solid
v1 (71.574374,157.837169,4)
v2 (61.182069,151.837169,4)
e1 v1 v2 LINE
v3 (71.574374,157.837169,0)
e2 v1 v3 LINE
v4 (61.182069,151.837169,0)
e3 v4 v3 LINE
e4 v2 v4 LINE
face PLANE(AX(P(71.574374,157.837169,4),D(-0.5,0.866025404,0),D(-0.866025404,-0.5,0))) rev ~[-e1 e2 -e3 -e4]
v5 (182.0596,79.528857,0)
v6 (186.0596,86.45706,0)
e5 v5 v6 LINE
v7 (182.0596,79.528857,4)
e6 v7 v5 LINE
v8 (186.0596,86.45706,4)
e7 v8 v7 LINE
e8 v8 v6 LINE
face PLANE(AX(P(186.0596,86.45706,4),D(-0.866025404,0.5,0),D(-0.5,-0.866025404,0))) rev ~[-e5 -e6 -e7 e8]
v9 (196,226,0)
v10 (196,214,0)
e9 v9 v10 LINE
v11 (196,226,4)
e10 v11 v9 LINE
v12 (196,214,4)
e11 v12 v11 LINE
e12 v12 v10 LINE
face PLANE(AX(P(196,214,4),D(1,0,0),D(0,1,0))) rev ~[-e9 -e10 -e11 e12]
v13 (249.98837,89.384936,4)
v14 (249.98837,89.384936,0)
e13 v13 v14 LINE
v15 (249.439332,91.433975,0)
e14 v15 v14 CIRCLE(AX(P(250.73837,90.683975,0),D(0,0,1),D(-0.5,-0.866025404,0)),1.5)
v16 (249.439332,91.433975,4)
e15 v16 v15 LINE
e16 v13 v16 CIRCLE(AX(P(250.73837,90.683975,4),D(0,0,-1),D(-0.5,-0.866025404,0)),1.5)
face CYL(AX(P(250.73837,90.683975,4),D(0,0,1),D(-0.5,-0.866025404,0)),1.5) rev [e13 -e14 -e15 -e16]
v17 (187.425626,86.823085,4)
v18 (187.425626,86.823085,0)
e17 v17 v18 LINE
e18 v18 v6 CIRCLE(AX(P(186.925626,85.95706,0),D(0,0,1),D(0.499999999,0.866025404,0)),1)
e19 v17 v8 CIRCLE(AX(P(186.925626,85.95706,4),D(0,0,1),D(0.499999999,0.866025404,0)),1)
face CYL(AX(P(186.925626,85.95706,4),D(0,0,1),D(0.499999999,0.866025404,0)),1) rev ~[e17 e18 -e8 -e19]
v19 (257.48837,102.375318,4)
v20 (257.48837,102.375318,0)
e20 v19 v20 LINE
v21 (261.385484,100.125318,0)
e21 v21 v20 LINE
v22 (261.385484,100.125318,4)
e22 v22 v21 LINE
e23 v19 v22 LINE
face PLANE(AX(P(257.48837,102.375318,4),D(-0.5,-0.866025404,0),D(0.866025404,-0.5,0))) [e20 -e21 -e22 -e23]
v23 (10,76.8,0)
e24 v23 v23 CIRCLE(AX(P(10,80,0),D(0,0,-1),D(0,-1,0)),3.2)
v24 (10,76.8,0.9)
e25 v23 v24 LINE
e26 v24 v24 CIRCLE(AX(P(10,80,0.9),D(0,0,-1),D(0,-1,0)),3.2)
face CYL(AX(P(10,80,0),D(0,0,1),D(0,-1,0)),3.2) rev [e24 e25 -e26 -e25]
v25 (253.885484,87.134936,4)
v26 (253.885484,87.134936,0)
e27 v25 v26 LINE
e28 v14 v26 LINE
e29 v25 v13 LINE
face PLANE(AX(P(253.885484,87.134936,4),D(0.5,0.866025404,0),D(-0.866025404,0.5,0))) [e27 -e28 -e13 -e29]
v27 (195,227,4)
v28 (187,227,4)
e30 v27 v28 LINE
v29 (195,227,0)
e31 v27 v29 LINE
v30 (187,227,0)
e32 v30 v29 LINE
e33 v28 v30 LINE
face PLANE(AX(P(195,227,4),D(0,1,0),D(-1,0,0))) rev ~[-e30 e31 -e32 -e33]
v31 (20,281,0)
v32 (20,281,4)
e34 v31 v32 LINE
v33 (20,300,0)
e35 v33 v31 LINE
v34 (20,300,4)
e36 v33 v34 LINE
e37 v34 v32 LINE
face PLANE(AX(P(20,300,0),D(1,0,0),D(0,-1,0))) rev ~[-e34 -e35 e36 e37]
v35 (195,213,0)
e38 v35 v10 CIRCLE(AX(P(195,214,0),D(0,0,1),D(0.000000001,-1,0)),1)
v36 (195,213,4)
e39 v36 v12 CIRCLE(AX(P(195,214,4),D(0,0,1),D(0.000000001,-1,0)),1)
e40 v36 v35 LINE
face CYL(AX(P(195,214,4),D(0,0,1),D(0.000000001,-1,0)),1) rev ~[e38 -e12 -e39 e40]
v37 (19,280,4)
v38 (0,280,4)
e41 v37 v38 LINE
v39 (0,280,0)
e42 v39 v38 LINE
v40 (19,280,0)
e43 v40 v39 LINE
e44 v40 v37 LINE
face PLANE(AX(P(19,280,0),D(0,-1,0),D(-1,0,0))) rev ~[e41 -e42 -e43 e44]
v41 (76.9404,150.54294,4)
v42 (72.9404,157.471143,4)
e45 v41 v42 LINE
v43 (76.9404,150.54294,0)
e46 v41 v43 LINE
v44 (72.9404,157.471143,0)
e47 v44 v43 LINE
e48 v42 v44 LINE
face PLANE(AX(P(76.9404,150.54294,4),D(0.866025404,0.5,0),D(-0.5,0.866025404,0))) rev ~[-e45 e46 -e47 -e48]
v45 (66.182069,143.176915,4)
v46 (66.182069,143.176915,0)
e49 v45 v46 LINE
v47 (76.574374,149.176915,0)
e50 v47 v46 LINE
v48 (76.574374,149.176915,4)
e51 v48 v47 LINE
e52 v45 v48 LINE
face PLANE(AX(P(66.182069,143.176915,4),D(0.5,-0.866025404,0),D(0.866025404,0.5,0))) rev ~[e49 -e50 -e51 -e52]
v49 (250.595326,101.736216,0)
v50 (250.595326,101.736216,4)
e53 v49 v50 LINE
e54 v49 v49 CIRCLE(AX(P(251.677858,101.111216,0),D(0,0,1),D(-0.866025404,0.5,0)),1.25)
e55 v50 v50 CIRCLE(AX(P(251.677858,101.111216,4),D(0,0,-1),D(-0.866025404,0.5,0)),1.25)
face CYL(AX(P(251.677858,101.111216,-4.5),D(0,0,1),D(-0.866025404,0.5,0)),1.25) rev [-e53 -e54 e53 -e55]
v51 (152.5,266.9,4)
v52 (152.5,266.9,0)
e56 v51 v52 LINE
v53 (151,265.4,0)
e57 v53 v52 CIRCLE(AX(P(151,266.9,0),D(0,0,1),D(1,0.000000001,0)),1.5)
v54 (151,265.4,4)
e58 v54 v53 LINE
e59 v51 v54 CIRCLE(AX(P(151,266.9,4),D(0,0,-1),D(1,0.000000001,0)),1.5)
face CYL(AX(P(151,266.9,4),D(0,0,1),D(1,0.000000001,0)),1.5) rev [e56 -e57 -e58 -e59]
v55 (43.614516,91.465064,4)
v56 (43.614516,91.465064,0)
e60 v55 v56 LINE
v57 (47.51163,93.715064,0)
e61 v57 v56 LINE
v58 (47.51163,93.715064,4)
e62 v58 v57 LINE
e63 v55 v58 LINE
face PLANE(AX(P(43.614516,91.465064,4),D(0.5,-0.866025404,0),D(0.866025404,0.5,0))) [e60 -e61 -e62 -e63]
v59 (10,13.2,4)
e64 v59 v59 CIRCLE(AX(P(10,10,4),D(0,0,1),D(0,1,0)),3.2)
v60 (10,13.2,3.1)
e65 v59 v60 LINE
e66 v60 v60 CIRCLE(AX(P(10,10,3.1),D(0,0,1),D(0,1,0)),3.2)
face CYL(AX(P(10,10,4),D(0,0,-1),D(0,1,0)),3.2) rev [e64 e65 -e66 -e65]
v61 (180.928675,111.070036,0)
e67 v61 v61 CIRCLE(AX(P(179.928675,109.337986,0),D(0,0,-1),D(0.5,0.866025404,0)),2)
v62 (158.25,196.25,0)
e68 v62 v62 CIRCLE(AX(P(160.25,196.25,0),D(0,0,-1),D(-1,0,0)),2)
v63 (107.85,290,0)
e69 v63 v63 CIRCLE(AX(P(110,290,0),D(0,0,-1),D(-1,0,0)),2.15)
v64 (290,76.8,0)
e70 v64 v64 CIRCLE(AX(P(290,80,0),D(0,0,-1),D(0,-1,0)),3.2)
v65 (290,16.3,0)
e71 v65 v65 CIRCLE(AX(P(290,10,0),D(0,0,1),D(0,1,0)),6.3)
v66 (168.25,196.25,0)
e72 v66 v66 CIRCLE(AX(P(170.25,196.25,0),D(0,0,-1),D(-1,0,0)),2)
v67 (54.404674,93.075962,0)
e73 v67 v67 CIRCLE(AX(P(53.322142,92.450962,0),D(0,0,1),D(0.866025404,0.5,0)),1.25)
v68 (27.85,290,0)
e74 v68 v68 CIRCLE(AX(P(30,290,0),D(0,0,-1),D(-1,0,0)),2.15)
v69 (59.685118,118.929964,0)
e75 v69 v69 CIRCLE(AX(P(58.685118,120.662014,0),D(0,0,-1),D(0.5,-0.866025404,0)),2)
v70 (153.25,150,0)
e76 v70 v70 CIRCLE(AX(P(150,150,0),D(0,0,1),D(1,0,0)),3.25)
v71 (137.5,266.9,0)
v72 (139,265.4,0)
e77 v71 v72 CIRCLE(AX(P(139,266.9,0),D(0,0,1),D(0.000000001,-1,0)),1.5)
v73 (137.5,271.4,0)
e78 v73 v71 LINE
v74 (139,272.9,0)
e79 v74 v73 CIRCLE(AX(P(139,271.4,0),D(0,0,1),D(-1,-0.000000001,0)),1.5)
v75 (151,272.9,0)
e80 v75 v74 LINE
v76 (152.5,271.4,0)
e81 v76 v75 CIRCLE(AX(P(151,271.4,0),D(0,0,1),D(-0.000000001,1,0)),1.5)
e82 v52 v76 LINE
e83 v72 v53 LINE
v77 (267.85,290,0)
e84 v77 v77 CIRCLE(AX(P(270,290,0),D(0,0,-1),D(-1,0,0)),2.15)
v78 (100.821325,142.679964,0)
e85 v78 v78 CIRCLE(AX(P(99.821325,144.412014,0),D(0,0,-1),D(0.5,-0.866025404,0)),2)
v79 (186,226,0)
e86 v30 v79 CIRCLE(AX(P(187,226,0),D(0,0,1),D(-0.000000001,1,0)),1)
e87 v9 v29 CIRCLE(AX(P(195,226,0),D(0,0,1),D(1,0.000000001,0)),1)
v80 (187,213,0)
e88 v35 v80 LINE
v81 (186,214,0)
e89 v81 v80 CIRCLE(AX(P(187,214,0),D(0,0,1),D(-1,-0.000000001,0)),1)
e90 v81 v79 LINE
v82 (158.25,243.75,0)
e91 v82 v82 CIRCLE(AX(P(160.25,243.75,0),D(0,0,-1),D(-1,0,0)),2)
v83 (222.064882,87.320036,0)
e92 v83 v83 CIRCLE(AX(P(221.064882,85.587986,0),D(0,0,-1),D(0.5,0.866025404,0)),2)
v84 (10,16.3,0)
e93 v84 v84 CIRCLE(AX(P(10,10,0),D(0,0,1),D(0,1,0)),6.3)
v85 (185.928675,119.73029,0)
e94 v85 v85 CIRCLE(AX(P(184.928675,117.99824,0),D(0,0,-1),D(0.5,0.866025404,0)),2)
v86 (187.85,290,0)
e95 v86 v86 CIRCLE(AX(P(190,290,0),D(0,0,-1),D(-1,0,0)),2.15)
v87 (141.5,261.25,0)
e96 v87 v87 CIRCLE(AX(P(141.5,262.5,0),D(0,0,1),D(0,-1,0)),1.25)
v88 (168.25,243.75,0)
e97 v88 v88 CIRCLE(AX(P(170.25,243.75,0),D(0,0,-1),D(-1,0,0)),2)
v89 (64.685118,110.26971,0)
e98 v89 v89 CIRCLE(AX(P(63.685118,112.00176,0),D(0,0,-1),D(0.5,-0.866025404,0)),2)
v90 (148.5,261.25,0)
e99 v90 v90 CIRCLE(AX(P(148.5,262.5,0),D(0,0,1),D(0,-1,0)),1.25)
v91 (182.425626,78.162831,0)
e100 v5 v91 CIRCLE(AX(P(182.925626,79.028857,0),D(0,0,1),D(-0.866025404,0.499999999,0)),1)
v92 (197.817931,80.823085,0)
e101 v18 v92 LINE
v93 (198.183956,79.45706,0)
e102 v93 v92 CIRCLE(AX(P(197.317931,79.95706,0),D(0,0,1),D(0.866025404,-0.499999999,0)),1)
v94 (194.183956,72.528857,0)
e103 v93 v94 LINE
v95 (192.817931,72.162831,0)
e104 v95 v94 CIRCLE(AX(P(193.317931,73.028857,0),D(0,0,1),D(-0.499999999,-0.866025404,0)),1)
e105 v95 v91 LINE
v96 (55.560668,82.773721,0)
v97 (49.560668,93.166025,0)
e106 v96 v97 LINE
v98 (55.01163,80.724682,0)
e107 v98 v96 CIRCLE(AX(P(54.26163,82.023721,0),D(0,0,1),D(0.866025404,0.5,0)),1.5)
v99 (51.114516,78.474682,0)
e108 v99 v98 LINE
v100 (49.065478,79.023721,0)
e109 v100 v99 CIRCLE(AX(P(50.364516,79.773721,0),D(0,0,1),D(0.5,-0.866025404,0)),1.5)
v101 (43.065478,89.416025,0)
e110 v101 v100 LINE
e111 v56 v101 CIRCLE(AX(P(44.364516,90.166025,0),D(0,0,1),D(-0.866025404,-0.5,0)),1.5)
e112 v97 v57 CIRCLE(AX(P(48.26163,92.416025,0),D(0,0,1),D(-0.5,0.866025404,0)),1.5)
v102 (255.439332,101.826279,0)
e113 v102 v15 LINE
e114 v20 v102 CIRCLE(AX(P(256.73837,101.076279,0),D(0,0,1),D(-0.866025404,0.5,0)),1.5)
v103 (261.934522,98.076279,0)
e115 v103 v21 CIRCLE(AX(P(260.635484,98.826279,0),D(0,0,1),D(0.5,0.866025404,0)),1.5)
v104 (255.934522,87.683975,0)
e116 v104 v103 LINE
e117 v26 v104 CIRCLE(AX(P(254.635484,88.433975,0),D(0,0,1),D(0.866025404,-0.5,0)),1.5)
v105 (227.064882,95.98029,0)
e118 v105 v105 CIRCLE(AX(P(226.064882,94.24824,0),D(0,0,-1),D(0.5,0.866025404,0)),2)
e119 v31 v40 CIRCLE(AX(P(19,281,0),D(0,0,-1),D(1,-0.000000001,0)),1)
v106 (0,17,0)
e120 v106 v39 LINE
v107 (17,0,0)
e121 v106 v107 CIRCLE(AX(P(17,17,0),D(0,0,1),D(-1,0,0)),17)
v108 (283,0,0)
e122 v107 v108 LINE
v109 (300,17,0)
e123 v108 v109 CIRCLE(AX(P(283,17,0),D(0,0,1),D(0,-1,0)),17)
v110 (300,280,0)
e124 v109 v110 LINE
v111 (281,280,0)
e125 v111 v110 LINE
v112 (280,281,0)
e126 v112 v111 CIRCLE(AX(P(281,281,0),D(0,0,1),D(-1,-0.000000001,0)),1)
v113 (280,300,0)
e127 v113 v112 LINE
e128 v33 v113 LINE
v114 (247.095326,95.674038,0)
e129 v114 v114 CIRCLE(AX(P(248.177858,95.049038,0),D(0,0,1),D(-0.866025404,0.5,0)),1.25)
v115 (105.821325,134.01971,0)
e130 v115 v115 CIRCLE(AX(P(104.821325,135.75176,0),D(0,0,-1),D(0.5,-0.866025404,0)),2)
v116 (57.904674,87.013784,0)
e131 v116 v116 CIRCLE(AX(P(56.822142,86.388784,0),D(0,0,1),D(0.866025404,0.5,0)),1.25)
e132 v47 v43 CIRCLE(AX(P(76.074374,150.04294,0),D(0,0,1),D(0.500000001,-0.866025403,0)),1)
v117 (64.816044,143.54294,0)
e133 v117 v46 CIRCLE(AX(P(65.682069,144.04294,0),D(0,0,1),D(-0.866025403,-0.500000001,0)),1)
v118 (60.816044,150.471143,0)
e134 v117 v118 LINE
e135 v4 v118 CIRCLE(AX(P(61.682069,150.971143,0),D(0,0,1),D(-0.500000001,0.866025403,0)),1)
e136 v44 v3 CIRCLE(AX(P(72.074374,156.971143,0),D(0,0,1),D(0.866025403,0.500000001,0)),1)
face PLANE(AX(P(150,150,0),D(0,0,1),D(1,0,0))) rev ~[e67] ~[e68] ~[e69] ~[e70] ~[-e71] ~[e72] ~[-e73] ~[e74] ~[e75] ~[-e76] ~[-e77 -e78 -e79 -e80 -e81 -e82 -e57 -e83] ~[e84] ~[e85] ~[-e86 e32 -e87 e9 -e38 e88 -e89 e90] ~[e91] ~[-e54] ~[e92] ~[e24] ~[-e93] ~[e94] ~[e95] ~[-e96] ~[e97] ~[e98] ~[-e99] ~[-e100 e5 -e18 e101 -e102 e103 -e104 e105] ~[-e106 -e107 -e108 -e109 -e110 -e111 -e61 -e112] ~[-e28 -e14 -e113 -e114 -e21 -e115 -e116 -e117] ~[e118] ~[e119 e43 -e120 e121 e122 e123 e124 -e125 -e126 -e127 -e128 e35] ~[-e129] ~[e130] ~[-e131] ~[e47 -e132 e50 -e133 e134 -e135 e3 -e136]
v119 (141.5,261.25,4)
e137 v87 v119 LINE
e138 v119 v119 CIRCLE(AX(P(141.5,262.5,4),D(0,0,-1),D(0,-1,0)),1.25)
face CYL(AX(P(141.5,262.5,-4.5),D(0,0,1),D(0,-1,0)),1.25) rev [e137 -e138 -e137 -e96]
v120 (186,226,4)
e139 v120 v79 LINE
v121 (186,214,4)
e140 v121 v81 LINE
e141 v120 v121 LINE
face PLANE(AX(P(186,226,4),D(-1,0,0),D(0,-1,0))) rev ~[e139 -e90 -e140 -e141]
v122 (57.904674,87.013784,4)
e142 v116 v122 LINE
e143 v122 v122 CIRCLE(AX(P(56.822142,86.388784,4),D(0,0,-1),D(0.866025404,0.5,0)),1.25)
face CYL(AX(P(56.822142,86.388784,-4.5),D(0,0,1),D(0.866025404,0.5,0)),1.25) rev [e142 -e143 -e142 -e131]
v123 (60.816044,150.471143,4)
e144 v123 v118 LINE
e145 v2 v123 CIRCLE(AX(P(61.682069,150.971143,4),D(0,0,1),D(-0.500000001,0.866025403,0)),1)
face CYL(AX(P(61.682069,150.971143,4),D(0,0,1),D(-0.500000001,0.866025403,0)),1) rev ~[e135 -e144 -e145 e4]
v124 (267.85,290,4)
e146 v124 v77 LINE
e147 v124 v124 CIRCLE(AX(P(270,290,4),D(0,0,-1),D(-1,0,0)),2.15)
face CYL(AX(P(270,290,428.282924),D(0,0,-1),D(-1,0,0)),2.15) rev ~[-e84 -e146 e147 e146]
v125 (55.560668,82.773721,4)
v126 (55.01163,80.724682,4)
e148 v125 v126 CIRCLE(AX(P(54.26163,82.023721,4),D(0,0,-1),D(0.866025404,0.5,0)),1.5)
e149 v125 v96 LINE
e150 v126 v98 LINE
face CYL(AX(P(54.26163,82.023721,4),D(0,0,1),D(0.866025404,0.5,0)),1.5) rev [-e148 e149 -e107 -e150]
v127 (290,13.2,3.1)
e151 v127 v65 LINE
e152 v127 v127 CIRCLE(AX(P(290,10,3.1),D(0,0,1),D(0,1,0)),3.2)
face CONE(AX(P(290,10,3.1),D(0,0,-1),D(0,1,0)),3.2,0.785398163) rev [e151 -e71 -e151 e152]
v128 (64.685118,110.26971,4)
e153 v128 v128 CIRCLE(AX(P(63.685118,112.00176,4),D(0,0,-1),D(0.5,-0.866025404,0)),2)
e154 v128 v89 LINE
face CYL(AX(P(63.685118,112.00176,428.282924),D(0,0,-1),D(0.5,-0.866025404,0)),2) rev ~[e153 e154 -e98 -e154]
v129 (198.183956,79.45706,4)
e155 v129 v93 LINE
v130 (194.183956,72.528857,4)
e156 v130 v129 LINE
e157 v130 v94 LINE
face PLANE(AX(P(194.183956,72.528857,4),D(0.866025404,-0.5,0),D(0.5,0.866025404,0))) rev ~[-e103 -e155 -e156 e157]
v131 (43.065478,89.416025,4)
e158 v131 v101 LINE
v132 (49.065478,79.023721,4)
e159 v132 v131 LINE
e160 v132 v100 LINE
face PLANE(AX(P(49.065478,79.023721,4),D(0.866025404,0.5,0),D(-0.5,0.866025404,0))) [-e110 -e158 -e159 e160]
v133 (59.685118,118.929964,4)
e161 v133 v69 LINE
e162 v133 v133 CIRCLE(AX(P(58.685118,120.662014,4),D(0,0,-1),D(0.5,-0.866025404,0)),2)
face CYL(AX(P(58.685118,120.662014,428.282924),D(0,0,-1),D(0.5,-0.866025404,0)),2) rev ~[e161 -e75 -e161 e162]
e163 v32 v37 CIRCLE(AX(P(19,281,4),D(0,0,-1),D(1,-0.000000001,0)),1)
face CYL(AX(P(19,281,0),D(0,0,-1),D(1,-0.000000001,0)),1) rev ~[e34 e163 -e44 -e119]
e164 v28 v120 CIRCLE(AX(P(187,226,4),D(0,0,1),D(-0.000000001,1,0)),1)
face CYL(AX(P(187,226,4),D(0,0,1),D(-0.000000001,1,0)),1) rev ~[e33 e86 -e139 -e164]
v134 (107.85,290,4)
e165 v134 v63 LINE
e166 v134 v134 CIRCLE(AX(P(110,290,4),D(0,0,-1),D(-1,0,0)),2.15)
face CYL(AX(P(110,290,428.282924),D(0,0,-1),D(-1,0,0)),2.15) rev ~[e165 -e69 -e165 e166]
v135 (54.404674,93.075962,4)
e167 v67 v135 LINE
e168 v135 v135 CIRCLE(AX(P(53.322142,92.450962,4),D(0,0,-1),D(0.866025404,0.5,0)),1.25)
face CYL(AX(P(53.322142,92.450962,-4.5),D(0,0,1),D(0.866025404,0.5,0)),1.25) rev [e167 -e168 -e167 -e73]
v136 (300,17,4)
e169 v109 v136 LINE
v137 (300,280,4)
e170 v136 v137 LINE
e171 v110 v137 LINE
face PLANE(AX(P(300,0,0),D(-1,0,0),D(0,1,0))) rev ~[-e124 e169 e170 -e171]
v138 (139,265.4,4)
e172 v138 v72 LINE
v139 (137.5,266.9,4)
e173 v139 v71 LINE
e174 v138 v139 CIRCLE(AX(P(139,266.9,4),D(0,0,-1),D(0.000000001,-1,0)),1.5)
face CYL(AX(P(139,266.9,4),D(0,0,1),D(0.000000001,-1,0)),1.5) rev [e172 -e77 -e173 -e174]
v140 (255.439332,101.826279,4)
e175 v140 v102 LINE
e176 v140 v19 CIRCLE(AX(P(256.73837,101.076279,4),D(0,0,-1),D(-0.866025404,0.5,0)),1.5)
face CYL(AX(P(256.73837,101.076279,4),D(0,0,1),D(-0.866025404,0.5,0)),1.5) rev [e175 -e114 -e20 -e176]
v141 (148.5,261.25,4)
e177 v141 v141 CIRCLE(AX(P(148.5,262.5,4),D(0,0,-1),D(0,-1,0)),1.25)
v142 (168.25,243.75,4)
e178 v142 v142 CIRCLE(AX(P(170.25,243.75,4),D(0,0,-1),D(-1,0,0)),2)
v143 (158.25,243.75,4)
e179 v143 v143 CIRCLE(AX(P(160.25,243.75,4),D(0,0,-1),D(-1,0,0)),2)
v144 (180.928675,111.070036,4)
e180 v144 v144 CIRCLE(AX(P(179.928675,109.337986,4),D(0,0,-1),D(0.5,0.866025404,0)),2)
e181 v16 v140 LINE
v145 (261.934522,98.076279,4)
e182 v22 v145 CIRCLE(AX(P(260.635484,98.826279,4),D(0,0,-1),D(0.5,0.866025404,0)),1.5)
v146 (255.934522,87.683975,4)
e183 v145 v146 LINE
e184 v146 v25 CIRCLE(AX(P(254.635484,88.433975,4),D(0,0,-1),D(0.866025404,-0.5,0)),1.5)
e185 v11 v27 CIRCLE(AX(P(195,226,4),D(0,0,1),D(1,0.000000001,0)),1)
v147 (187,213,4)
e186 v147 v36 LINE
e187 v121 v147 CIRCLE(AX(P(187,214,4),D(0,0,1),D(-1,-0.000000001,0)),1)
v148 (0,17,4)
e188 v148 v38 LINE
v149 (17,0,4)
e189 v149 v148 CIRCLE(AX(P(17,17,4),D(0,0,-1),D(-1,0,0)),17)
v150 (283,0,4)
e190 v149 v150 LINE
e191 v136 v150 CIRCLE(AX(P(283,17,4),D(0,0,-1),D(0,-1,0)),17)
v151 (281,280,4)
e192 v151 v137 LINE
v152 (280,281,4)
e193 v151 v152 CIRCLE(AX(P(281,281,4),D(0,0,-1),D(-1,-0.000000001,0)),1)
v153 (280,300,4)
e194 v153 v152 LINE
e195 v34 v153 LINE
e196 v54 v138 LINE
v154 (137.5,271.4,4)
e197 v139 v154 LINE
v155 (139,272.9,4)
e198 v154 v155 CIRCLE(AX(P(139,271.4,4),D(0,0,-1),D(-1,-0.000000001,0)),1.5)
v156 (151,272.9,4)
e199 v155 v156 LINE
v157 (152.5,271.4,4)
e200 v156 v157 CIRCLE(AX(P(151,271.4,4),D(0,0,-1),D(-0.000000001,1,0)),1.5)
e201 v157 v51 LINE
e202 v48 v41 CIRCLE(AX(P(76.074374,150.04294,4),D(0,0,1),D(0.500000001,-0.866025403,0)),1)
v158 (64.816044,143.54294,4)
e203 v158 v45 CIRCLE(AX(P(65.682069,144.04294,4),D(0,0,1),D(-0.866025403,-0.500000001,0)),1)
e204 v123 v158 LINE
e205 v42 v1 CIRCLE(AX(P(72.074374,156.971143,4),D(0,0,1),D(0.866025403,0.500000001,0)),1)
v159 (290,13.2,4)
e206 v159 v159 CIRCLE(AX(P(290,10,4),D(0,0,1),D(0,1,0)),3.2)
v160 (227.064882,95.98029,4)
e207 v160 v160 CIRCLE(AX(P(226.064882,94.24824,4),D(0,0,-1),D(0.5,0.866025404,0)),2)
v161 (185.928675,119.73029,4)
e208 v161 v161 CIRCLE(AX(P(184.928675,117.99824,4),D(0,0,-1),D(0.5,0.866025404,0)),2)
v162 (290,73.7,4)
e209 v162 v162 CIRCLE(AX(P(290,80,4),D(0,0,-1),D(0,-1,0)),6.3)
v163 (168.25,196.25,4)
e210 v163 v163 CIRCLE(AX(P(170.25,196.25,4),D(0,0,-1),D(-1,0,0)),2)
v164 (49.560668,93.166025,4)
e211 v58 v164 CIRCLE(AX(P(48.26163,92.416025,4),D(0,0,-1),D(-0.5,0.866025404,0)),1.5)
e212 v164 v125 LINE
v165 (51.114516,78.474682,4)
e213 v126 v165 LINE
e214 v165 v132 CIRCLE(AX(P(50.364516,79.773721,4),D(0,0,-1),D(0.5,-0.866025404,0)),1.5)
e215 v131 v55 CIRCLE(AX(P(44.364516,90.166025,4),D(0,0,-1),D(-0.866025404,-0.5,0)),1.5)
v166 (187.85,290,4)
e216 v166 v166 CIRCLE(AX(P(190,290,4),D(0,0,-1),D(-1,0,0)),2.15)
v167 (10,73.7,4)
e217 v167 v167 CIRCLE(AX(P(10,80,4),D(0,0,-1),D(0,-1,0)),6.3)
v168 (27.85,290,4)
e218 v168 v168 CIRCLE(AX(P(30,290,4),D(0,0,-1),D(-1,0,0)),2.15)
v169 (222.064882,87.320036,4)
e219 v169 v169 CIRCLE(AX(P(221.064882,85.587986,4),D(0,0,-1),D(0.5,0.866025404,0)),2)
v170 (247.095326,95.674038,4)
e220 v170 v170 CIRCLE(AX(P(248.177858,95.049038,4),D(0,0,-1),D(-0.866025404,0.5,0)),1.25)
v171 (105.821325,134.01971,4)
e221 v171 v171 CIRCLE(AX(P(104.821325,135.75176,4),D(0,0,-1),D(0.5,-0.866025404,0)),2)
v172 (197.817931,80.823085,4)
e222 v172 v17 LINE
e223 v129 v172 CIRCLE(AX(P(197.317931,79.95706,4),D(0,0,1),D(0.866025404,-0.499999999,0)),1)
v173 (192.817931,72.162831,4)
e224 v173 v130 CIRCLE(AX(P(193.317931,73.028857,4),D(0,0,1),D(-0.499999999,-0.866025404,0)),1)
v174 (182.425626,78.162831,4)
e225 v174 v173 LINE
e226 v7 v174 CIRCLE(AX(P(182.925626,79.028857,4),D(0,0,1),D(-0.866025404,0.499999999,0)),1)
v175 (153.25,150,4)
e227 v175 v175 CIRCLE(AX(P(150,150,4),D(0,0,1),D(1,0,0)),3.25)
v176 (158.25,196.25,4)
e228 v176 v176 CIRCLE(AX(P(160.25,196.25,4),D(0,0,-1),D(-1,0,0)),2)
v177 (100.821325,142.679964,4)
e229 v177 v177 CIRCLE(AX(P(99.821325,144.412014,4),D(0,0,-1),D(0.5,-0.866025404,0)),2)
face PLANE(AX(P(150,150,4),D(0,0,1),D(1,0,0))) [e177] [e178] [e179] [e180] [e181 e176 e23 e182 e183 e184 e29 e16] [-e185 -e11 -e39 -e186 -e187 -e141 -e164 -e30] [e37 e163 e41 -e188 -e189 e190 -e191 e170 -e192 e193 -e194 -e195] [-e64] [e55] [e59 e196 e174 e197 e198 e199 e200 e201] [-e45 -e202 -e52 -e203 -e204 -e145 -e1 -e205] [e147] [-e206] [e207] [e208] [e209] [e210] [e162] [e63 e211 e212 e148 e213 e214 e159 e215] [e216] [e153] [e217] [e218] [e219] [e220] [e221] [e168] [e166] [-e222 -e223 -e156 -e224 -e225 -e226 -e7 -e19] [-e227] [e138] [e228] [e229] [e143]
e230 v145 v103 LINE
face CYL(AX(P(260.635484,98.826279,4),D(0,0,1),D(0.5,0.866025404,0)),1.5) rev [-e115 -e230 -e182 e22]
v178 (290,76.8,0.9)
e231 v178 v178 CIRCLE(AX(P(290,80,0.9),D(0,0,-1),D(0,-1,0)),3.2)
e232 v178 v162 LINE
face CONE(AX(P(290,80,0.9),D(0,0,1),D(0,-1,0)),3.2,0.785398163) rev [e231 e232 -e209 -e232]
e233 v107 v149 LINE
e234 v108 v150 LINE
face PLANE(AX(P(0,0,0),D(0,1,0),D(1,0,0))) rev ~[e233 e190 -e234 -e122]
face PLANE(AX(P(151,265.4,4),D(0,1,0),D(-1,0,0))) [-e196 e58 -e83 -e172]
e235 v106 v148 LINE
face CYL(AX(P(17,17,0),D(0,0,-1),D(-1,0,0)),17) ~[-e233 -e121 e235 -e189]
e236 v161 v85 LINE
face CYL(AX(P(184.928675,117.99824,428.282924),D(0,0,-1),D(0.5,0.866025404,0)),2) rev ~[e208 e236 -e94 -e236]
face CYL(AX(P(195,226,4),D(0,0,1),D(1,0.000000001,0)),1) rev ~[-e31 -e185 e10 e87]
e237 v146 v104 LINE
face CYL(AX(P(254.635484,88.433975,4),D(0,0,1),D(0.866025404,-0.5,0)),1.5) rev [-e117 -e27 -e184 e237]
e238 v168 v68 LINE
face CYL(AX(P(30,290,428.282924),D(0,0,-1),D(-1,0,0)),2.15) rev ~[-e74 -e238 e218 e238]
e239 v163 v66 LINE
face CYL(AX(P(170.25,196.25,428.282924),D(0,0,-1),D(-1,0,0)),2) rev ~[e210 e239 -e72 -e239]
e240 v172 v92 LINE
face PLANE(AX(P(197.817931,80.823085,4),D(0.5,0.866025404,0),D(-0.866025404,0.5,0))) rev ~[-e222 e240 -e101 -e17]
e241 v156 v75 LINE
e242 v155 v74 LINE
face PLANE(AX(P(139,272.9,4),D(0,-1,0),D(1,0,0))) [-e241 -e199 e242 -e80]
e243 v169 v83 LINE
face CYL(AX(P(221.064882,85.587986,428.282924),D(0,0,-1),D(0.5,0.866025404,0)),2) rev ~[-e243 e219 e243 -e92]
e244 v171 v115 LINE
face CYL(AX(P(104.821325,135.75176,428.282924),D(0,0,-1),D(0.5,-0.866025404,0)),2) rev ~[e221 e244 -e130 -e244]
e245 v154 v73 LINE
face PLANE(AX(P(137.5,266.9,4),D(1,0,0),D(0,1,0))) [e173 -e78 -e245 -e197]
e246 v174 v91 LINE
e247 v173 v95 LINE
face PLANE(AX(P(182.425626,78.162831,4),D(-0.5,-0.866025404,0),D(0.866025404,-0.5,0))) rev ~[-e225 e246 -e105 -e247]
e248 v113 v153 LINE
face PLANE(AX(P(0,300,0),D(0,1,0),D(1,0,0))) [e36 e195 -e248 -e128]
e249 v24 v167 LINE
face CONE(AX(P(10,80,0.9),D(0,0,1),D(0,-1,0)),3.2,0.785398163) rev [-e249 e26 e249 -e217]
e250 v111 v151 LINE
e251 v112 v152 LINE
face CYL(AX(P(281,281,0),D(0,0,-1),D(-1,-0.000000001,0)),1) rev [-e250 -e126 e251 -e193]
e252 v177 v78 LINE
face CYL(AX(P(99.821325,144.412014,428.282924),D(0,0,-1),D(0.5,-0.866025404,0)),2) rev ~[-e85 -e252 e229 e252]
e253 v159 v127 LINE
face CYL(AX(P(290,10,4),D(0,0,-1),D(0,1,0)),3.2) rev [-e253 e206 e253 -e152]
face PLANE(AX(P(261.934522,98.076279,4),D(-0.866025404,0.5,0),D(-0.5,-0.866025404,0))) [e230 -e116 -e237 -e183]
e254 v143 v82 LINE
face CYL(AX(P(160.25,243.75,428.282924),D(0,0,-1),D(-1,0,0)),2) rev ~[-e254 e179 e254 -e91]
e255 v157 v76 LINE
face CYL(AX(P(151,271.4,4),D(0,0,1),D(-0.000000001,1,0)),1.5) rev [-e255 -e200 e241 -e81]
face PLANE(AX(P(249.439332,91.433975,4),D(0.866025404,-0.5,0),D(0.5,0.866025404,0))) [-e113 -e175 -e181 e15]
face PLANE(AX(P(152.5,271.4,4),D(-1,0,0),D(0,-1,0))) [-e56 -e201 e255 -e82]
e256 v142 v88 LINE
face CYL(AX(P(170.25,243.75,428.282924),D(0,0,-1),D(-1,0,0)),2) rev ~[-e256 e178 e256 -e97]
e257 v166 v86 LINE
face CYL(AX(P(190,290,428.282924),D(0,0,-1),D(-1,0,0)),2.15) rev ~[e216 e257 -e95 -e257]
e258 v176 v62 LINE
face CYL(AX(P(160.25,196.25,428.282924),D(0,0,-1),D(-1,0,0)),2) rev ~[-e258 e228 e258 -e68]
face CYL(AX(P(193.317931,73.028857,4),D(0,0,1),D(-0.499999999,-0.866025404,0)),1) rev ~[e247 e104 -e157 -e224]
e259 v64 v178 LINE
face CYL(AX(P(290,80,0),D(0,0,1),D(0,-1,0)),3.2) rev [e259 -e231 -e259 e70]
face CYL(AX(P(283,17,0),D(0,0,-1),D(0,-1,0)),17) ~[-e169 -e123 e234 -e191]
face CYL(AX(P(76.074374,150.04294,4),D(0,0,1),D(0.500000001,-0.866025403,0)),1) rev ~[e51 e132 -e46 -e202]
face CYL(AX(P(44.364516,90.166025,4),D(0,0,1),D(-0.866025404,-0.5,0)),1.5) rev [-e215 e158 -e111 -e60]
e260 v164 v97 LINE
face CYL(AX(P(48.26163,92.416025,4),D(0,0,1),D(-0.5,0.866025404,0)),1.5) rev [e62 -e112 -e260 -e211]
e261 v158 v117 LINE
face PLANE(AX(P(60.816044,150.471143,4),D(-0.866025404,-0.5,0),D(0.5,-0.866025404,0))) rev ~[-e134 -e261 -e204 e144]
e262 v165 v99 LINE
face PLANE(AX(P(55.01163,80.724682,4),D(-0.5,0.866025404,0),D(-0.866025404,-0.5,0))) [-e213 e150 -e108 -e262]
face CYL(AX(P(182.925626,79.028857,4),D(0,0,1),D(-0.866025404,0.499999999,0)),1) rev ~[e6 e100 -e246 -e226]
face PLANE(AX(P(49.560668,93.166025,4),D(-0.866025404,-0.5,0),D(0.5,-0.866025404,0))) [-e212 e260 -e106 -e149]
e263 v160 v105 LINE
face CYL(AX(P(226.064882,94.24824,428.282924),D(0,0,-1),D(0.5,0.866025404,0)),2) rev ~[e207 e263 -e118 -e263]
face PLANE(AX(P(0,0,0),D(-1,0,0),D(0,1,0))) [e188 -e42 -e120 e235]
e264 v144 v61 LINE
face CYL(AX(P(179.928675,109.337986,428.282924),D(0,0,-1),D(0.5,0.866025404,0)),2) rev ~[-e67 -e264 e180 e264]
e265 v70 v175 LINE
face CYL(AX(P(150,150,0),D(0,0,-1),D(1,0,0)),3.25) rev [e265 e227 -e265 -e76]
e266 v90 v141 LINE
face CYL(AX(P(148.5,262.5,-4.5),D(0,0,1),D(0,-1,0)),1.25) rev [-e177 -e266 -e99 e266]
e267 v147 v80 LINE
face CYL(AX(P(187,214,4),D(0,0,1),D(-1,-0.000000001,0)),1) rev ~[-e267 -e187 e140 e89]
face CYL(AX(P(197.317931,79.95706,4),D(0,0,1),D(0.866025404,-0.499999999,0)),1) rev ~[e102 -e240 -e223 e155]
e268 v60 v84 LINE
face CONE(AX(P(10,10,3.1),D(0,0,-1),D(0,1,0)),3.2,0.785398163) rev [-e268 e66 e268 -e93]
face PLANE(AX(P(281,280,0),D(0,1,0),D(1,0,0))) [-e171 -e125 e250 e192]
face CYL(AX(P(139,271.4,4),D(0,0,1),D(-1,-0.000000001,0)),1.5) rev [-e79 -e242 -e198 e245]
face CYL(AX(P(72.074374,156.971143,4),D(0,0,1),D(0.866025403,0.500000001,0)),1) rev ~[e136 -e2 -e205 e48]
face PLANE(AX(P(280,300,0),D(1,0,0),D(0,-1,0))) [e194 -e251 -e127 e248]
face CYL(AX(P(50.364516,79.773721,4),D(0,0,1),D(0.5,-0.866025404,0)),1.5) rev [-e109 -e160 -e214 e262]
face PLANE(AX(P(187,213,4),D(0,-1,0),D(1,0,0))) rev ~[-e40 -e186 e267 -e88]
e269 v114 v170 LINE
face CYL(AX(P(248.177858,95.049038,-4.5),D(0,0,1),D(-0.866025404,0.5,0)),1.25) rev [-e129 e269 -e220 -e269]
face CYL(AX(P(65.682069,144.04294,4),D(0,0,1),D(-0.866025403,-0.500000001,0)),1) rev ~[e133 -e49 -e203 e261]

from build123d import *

# Parameters (mm, degrees)
SKIZZE1_W                                      = 300
SKIZZE1_H                                      = 300
SKIZZE1_R                                      = 3.25
AUFSATZ_LINEAR_AUSTRAGEN1_DEPTH                = 4
F_4_0_4_DURCHMESSER_BOHRUNG1_D                 = 4
M3_GEWINDEBOHRUNG1_AT_2_COUNT                  = 2
M3_GEWINDEBOHRUNG1_AT_2_PITCH                  = 7
SCHNITT_LINEAR_AUSTRAGEN2_REACH                = 426.283
SCHNITT_LINEAR_AUSTRAGEN4_REACH                = 426.283
KREISMUSTER1_COUNT                             = 3
SCHNITT_LINEAR_AUSTRAGEN3_REACH                = 426.283
FORMSENKUNG_F_R_M6_SENKSCHRAUBE_MIT_2_COUNT    = 2
FORMSENKUNG_F_R_M6_SENKSCHRAUBE_MIT_2_PITCH    = 280
F_4_3_4_3_DURCHMESSER_BOHRUNG1_D               = 4.3
FORMSENKUNG_F_R_M6_SENKSCHRAUBE_MIT_3_AT_COUNT = 2
FORMSENKUNG_F_R_M6_SENKSCHRAUBE_MIT_3_AT_PITCH = 280


with BuildPart() as part:
    # Skizze1 → Aufsatz-Linear austragen1 (new body)
    with BuildSketch(Plane.XY):
        with Locations((150, 150)):
            Rectangle(SKIZZE1_W, SKIZZE1_H)
        with Locations((150, 150)):
            Circle(SKIZZE1_R, mode=Mode.SUBTRACT)
    extrude(amount=AUFSATZ_LINEAR_AUSTRAGEN1_DEPTH)

    # Ø4.0 (4) Durchmesser Bohrung1 (through all)
    with Locations(Plane.XY.offset(4)):
        with Locations((160.25, 196.25), (170.25, 243.75), (160.25, 243.75), (170.25, 196.25)):
            f_4_0_4_durchmesser_bohrung1 = Hole(F_4_0_4_DURCHMESSER_BOHRUNG1_D / 2)

    # Skizze5 → M3 Gewindebohrung1 (revolve, cut)
    with BuildSketch(Plane(origin=(148.5, 262.5, 4), x_dir=(0, -1, 0), z_dir=(1, 0, 0))):
        Polygon((0, 0), (0, 9.251075774), (1.25, 8.5), (1.25, 0), align=None)
    m3_gewindebohrung1 = revolve(axis=Axis((148.5, 262.5, 10.35), (0, 0, -1)), mode=Mode.SUBTRACT)

    # M3 Gewindebohrung1 at 2: M3 Gewindebohrung1 ×2
    with Locations(*[(-i * M3_GEWINDEBOHRUNG1_AT_2_PITCH, 0, 0) for i in range(1, M3_GEWINDEBOHRUNG1_AT_2_COUNT)]):
        add(m3_gewindebohrung1, mode=Mode.SUBTRACT)

    # Skizze9 → Schnitt-Linear austragen2 (cut, up to next)
    with BuildSketch(Plane.XY.offset(4), mode=Mode.PRIVATE) as schnitt_linear_austragen2_sk1:
        with BuildLine():
            Line((139, 272.9), (151, 272.9))
            ThreePointArc((151, 272.9), (152.060660172, 272.460660172), (152.5, 271.4))
            Line((152.5, 271.4), (152.5, 266.9))
            ThreePointArc((152.5, 266.9), (152.060660172, 265.839339828), (151, 265.4))
            Line((151, 265.4), (139, 265.4))
            ThreePointArc((139, 265.4), (137.939339828, 265.839339828), (137.5, 266.9))
            Line((137.5, 266.9), (137.5, 271.4))
            ThreePointArc((137.5, 271.4), (137.939339828, 272.460660172), (139, 272.9))
        make_face()
    schnitt_linear_austragen2_tool1 = extrude(schnitt_linear_austragen2_sk1.sketch, amount=-SCHNITT_LINEAR_AUSTRAGEN2_REACH, mode=Mode.PRIVATE) & part.part
    schnitt_linear_austragen2 = schnitt_linear_austragen2_tool1.solids().sort_by_distance((145, 269.15, 4))[0]
    add(schnitt_linear_austragen2, mode=Mode.SUBTRACT)

    # Skizze16 → Schnitt-Linear austragen4 (cut, up to next)
    with BuildSketch(Plane.XY.offset(4), mode=Mode.PRIVATE) as schnitt_linear_austragen4_sk1:
        with BuildLine():
            Line((195, 227), (187, 227))
            ThreePointArc((187, 227), (186.292893219, 226.707106781), (186, 226))
            Line((186, 226), (186, 214))
            ThreePointArc((186, 214), (186.292893219, 213.292893219), (187, 213))
            Line((187, 213), (195, 213))
            ThreePointArc((195, 213), (195.707106781, 213.292893219), (196, 214))
            Line((196, 214), (196, 226))
            ThreePointArc((196, 226), (195.707106781, 226.707106781), (195, 227))
        make_face()
    schnitt_linear_austragen4_tool1 = extrude(schnitt_linear_austragen4_sk1.sketch, amount=-SCHNITT_LINEAR_AUSTRAGEN4_REACH, mode=Mode.PRIVATE) & part.part
    schnitt_linear_austragen4 = schnitt_linear_austragen4_tool1.solids().sort_by_distance((191, 220, 4))[0]
    add(schnitt_linear_austragen4, mode=Mode.SUBTRACT)

    # Kreismuster1: Ø4.0 (4) Durchmesser Bohrung1, M3 Gewindebohrung1, Schnitt-Linear austragen2, Schnitt-Linear austragen4 ×3 about axis
    kreismuster1_axis = Axis((150, 150, 0), (0, 0, 1))
    add([f_4_0_4_durchmesser_bohrung1.rotate(kreismuster1_axis, i * 360 / KREISMUSTER1_COUNT) for i in range(1, KREISMUSTER1_COUNT)], mode=Mode.SUBTRACT)
    add([m3_gewindebohrung1.rotate(kreismuster1_axis, i * 360 / KREISMUSTER1_COUNT) for i in range(1, KREISMUSTER1_COUNT)], mode=Mode.SUBTRACT)
    add([schnitt_linear_austragen2.rotate(kreismuster1_axis, i * 360 / KREISMUSTER1_COUNT) for i in range(1, KREISMUSTER1_COUNT)], mode=Mode.SUBTRACT)
    add([schnitt_linear_austragen4.rotate(kreismuster1_axis, i * 360 / KREISMUSTER1_COUNT) for i in range(1, KREISMUSTER1_COUNT)], mode=Mode.SUBTRACT)

    # Kreismuster1 copy 1 sketch → Kreismuster1 copy 1 (revolve, cut)
    with BuildSketch(Plane(origin=(56.822142074, 86.388784068, 4), x_dir=(0.8660254037844387, 0.4999999999999998, 0), z_dir=(-0.4999999999999998, 0.8660254037844387, 0))):
        Polygon((0, 0), (0, 9.251075774), (1.25, 8.5), (1.25, 0), align=None)
    revolve(axis=Axis((56.822142074, 86.388784068, 10.35), (0, 0, -1)), mode=Mode.SUBTRACT)

    # Kreismuster1 copy 2 sketch → Kreismuster1 copy 2 (revolve, cut)
    with BuildSketch(Plane(origin=(251.677857926, 101.111215932, 4), x_dir=(-0.8660254037844384, 0.5000000000000004, 0), z_dir=(-0.5000000000000004, -0.8660254037844384, 0))):
        Polygon((0, 0), (0, 9.251075774), (1.25, 8.5), (1.25, 0), align=None)
    revolve(axis=Axis((251.677857926, 101.111215932, 10.35), (0, 0, -1)), mode=Mode.SUBTRACT)

    # Skizze12 → Schnitt-Linear austragen3 (cut, up to next)
    with BuildSketch(Plane(origin=(0, 0, 0), x_dir=(-1, 0, 0), z_dir=(0, 0, -1)), mode=Mode.PRIVATE) as schnitt_linear_austragen3_sk1:
        with BuildLine():
            Line((-300, 17), (-300, 0))
            Line((-300, 0), (-283, 0))
            ThreePointArc((-283, 0), (-295.02081528, 4.97918472), (-300, 17))
        make_face()
    schnitt_linear_austragen3_tool1 = extrude(schnitt_linear_austragen3_sk1.sketch, amount=-SCHNITT_LINEAR_AUSTRAGEN3_REACH, mode=Mode.PRIVATE) & part.part
    # Skizze12 → Schnitt-Linear austragen3 (cut, up to next)
    with BuildSketch(Plane(origin=(0, 0, 0), x_dir=(-1, 0, 0), z_dir=(0, 0, -1)), mode=Mode.PRIVATE) as schnitt_linear_austragen3_sk2:
        with BuildLine():
            Line((-300, 300), (-280, 300))
            Line((-280, 300), (-280, 281))
            ThreePointArc((-280, 281), (-280.292893219, 280.292893219), (-281, 280))
            Line((-281, 280), (-300, 280))
            Line((-300, 280), (-300, 300))
        make_face()
    schnitt_linear_austragen3_tool2 = extrude(schnitt_linear_austragen3_sk2.sketch, amount=-SCHNITT_LINEAR_AUSTRAGEN3_REACH, mode=Mode.PRIVATE) & part.part
    # Skizze12 → Schnitt-Linear austragen3 (cut, up to next)
    with BuildSketch(Plane(origin=(0, 0, 0), x_dir=(-1, 0, 0), z_dir=(0, 0, -1)), mode=Mode.PRIVATE) as schnitt_linear_austragen3_sk3:
        with BuildLine():
            Line((0, 300), (-20, 300))
            Line((-20, 300), (-20, 281))
            ThreePointArc((-20, 281), (-19.707106781, 280.292893219), (-19, 280))
            Line((-19, 280), (0, 280))
            Line((0, 280), (0, 300))
        make_face()
    schnitt_linear_austragen3_tool3 = extrude(schnitt_linear_austragen3_sk3.sketch, amount=-SCHNITT_LINEAR_AUSTRAGEN3_REACH, mode=Mode.PRIVATE) & part.part
    # Skizze12 → Schnitt-Linear austragen3 (cut, up to next)
    with BuildSketch(Plane(origin=(0, 0, 0), x_dir=(-1, 0, 0), z_dir=(0, 0, -1)), mode=Mode.PRIVATE) as schnitt_linear_austragen3_sk4:
        with BuildLine():
            Line((-17, 0), (0, 0))
            Line((0, 0), (0, 17))
            ThreePointArc((0, 17), (-4.97918472, 4.97918472), (-17, 0))
        make_face()
    schnitt_linear_austragen3_tool4 = extrude(schnitt_linear_austragen3_sk4.sketch, amount=-SCHNITT_LINEAR_AUSTRAGEN3_REACH, mode=Mode.PRIVATE) & part.part
    add(schnitt_linear_austragen3_tool1.solids().sort_by_distance((296.202745, 3.797255, 0))[0], mode=Mode.SUBTRACT)
    add(schnitt_linear_austragen3_tool2.solids().sort_by_distance((290.005248, 290.005248, 0))[0], mode=Mode.SUBTRACT)
    add(schnitt_linear_austragen3_tool3.solids().sort_by_distance((9.994752, 290.005248, 0))[0], mode=Mode.SUBTRACT)
    add(schnitt_linear_austragen3_tool4.solids().sort_by_distance((3.797255, 3.797255, 0))[0], mode=Mode.SUBTRACT)

    # Skizze14 → Formsenkung f_r M6 Senkschraube mit Schl (revolve, cut)
    with BuildSketch(Plane(origin=(290, 10, 0), x_dir=(0, 1, 0), z_dir=(1, 0, 0))):
        Polygon((0, 0), (0, 4), (3.2, 4), (3.2, 3.1), (6.3, 0), align=None)
    formsenkung_f_r_m6_senkschraube_mit_schl = revolve(axis=Axis((290, 10, -6.35), (0, 0, 1)), mode=Mode.SUBTRACT)

    # Formsenkung f_r M6 Senkschraube mit  2: Formsenkung f_r M6 Senkschraube mit Schl ×2
    with Locations(*[(-i * FORMSENKUNG_F_R_M6_SENKSCHRAUBE_MIT_2_PITCH, 0, 0) for i in range(1, FORMSENKUNG_F_R_M6_SENKSCHRAUBE_MIT_2_COUNT)]):
        add(formsenkung_f_r_m6_senkschraube_mit_schl, mode=Mode.SUBTRACT)

    # Ø4.3 (4.3) Durchmesser Bohrung1 (through all)
    with Locations(Plane.XY.offset(4)):
        with Locations((30, 290), (110, 290), (190, 290), (270, 290)):
            Hole(F_4_3_4_3_DURCHMESSER_BOHRUNG1_D / 2)

    # Skizze19 → Formsenkung f_r M6 Senkschraube mit  3 (revolve, cut)
    with BuildSketch(Plane(origin=(10, 80, 4), x_dir=(0, -1, 0), z_dir=(1, 0, 0))):
        Polygon((0, 0), (0, 4), (3.2, 4), (3.2, 3.1), (6.3, 0), align=None)
    formsenkung_f_r_m6_senkschraube_mit_3 = revolve(axis=Axis((10, 80, 10.35), (0, 0, -1)), mode=Mode.SUBTRACT)

    # Formsenkung f_r M6 Senkschraube mit 3 at: Formsenkung f_r M6 Senkschraube mit  3 ×2
    with Locations(*[(i * FORMSENKUNG_F_R_M6_SENKSCHRAUBE_MIT_3_AT_PITCH, 0, 0) for i in range(1, FORMSENKUNG_F_R_M6_SENKSCHRAUBE_MIT_3_AT_COUNT)]):
        add(formsenkung_f_r_m6_senkschraube_mit_3, mode=Mode.SUBTRACT)


solid = part.part
